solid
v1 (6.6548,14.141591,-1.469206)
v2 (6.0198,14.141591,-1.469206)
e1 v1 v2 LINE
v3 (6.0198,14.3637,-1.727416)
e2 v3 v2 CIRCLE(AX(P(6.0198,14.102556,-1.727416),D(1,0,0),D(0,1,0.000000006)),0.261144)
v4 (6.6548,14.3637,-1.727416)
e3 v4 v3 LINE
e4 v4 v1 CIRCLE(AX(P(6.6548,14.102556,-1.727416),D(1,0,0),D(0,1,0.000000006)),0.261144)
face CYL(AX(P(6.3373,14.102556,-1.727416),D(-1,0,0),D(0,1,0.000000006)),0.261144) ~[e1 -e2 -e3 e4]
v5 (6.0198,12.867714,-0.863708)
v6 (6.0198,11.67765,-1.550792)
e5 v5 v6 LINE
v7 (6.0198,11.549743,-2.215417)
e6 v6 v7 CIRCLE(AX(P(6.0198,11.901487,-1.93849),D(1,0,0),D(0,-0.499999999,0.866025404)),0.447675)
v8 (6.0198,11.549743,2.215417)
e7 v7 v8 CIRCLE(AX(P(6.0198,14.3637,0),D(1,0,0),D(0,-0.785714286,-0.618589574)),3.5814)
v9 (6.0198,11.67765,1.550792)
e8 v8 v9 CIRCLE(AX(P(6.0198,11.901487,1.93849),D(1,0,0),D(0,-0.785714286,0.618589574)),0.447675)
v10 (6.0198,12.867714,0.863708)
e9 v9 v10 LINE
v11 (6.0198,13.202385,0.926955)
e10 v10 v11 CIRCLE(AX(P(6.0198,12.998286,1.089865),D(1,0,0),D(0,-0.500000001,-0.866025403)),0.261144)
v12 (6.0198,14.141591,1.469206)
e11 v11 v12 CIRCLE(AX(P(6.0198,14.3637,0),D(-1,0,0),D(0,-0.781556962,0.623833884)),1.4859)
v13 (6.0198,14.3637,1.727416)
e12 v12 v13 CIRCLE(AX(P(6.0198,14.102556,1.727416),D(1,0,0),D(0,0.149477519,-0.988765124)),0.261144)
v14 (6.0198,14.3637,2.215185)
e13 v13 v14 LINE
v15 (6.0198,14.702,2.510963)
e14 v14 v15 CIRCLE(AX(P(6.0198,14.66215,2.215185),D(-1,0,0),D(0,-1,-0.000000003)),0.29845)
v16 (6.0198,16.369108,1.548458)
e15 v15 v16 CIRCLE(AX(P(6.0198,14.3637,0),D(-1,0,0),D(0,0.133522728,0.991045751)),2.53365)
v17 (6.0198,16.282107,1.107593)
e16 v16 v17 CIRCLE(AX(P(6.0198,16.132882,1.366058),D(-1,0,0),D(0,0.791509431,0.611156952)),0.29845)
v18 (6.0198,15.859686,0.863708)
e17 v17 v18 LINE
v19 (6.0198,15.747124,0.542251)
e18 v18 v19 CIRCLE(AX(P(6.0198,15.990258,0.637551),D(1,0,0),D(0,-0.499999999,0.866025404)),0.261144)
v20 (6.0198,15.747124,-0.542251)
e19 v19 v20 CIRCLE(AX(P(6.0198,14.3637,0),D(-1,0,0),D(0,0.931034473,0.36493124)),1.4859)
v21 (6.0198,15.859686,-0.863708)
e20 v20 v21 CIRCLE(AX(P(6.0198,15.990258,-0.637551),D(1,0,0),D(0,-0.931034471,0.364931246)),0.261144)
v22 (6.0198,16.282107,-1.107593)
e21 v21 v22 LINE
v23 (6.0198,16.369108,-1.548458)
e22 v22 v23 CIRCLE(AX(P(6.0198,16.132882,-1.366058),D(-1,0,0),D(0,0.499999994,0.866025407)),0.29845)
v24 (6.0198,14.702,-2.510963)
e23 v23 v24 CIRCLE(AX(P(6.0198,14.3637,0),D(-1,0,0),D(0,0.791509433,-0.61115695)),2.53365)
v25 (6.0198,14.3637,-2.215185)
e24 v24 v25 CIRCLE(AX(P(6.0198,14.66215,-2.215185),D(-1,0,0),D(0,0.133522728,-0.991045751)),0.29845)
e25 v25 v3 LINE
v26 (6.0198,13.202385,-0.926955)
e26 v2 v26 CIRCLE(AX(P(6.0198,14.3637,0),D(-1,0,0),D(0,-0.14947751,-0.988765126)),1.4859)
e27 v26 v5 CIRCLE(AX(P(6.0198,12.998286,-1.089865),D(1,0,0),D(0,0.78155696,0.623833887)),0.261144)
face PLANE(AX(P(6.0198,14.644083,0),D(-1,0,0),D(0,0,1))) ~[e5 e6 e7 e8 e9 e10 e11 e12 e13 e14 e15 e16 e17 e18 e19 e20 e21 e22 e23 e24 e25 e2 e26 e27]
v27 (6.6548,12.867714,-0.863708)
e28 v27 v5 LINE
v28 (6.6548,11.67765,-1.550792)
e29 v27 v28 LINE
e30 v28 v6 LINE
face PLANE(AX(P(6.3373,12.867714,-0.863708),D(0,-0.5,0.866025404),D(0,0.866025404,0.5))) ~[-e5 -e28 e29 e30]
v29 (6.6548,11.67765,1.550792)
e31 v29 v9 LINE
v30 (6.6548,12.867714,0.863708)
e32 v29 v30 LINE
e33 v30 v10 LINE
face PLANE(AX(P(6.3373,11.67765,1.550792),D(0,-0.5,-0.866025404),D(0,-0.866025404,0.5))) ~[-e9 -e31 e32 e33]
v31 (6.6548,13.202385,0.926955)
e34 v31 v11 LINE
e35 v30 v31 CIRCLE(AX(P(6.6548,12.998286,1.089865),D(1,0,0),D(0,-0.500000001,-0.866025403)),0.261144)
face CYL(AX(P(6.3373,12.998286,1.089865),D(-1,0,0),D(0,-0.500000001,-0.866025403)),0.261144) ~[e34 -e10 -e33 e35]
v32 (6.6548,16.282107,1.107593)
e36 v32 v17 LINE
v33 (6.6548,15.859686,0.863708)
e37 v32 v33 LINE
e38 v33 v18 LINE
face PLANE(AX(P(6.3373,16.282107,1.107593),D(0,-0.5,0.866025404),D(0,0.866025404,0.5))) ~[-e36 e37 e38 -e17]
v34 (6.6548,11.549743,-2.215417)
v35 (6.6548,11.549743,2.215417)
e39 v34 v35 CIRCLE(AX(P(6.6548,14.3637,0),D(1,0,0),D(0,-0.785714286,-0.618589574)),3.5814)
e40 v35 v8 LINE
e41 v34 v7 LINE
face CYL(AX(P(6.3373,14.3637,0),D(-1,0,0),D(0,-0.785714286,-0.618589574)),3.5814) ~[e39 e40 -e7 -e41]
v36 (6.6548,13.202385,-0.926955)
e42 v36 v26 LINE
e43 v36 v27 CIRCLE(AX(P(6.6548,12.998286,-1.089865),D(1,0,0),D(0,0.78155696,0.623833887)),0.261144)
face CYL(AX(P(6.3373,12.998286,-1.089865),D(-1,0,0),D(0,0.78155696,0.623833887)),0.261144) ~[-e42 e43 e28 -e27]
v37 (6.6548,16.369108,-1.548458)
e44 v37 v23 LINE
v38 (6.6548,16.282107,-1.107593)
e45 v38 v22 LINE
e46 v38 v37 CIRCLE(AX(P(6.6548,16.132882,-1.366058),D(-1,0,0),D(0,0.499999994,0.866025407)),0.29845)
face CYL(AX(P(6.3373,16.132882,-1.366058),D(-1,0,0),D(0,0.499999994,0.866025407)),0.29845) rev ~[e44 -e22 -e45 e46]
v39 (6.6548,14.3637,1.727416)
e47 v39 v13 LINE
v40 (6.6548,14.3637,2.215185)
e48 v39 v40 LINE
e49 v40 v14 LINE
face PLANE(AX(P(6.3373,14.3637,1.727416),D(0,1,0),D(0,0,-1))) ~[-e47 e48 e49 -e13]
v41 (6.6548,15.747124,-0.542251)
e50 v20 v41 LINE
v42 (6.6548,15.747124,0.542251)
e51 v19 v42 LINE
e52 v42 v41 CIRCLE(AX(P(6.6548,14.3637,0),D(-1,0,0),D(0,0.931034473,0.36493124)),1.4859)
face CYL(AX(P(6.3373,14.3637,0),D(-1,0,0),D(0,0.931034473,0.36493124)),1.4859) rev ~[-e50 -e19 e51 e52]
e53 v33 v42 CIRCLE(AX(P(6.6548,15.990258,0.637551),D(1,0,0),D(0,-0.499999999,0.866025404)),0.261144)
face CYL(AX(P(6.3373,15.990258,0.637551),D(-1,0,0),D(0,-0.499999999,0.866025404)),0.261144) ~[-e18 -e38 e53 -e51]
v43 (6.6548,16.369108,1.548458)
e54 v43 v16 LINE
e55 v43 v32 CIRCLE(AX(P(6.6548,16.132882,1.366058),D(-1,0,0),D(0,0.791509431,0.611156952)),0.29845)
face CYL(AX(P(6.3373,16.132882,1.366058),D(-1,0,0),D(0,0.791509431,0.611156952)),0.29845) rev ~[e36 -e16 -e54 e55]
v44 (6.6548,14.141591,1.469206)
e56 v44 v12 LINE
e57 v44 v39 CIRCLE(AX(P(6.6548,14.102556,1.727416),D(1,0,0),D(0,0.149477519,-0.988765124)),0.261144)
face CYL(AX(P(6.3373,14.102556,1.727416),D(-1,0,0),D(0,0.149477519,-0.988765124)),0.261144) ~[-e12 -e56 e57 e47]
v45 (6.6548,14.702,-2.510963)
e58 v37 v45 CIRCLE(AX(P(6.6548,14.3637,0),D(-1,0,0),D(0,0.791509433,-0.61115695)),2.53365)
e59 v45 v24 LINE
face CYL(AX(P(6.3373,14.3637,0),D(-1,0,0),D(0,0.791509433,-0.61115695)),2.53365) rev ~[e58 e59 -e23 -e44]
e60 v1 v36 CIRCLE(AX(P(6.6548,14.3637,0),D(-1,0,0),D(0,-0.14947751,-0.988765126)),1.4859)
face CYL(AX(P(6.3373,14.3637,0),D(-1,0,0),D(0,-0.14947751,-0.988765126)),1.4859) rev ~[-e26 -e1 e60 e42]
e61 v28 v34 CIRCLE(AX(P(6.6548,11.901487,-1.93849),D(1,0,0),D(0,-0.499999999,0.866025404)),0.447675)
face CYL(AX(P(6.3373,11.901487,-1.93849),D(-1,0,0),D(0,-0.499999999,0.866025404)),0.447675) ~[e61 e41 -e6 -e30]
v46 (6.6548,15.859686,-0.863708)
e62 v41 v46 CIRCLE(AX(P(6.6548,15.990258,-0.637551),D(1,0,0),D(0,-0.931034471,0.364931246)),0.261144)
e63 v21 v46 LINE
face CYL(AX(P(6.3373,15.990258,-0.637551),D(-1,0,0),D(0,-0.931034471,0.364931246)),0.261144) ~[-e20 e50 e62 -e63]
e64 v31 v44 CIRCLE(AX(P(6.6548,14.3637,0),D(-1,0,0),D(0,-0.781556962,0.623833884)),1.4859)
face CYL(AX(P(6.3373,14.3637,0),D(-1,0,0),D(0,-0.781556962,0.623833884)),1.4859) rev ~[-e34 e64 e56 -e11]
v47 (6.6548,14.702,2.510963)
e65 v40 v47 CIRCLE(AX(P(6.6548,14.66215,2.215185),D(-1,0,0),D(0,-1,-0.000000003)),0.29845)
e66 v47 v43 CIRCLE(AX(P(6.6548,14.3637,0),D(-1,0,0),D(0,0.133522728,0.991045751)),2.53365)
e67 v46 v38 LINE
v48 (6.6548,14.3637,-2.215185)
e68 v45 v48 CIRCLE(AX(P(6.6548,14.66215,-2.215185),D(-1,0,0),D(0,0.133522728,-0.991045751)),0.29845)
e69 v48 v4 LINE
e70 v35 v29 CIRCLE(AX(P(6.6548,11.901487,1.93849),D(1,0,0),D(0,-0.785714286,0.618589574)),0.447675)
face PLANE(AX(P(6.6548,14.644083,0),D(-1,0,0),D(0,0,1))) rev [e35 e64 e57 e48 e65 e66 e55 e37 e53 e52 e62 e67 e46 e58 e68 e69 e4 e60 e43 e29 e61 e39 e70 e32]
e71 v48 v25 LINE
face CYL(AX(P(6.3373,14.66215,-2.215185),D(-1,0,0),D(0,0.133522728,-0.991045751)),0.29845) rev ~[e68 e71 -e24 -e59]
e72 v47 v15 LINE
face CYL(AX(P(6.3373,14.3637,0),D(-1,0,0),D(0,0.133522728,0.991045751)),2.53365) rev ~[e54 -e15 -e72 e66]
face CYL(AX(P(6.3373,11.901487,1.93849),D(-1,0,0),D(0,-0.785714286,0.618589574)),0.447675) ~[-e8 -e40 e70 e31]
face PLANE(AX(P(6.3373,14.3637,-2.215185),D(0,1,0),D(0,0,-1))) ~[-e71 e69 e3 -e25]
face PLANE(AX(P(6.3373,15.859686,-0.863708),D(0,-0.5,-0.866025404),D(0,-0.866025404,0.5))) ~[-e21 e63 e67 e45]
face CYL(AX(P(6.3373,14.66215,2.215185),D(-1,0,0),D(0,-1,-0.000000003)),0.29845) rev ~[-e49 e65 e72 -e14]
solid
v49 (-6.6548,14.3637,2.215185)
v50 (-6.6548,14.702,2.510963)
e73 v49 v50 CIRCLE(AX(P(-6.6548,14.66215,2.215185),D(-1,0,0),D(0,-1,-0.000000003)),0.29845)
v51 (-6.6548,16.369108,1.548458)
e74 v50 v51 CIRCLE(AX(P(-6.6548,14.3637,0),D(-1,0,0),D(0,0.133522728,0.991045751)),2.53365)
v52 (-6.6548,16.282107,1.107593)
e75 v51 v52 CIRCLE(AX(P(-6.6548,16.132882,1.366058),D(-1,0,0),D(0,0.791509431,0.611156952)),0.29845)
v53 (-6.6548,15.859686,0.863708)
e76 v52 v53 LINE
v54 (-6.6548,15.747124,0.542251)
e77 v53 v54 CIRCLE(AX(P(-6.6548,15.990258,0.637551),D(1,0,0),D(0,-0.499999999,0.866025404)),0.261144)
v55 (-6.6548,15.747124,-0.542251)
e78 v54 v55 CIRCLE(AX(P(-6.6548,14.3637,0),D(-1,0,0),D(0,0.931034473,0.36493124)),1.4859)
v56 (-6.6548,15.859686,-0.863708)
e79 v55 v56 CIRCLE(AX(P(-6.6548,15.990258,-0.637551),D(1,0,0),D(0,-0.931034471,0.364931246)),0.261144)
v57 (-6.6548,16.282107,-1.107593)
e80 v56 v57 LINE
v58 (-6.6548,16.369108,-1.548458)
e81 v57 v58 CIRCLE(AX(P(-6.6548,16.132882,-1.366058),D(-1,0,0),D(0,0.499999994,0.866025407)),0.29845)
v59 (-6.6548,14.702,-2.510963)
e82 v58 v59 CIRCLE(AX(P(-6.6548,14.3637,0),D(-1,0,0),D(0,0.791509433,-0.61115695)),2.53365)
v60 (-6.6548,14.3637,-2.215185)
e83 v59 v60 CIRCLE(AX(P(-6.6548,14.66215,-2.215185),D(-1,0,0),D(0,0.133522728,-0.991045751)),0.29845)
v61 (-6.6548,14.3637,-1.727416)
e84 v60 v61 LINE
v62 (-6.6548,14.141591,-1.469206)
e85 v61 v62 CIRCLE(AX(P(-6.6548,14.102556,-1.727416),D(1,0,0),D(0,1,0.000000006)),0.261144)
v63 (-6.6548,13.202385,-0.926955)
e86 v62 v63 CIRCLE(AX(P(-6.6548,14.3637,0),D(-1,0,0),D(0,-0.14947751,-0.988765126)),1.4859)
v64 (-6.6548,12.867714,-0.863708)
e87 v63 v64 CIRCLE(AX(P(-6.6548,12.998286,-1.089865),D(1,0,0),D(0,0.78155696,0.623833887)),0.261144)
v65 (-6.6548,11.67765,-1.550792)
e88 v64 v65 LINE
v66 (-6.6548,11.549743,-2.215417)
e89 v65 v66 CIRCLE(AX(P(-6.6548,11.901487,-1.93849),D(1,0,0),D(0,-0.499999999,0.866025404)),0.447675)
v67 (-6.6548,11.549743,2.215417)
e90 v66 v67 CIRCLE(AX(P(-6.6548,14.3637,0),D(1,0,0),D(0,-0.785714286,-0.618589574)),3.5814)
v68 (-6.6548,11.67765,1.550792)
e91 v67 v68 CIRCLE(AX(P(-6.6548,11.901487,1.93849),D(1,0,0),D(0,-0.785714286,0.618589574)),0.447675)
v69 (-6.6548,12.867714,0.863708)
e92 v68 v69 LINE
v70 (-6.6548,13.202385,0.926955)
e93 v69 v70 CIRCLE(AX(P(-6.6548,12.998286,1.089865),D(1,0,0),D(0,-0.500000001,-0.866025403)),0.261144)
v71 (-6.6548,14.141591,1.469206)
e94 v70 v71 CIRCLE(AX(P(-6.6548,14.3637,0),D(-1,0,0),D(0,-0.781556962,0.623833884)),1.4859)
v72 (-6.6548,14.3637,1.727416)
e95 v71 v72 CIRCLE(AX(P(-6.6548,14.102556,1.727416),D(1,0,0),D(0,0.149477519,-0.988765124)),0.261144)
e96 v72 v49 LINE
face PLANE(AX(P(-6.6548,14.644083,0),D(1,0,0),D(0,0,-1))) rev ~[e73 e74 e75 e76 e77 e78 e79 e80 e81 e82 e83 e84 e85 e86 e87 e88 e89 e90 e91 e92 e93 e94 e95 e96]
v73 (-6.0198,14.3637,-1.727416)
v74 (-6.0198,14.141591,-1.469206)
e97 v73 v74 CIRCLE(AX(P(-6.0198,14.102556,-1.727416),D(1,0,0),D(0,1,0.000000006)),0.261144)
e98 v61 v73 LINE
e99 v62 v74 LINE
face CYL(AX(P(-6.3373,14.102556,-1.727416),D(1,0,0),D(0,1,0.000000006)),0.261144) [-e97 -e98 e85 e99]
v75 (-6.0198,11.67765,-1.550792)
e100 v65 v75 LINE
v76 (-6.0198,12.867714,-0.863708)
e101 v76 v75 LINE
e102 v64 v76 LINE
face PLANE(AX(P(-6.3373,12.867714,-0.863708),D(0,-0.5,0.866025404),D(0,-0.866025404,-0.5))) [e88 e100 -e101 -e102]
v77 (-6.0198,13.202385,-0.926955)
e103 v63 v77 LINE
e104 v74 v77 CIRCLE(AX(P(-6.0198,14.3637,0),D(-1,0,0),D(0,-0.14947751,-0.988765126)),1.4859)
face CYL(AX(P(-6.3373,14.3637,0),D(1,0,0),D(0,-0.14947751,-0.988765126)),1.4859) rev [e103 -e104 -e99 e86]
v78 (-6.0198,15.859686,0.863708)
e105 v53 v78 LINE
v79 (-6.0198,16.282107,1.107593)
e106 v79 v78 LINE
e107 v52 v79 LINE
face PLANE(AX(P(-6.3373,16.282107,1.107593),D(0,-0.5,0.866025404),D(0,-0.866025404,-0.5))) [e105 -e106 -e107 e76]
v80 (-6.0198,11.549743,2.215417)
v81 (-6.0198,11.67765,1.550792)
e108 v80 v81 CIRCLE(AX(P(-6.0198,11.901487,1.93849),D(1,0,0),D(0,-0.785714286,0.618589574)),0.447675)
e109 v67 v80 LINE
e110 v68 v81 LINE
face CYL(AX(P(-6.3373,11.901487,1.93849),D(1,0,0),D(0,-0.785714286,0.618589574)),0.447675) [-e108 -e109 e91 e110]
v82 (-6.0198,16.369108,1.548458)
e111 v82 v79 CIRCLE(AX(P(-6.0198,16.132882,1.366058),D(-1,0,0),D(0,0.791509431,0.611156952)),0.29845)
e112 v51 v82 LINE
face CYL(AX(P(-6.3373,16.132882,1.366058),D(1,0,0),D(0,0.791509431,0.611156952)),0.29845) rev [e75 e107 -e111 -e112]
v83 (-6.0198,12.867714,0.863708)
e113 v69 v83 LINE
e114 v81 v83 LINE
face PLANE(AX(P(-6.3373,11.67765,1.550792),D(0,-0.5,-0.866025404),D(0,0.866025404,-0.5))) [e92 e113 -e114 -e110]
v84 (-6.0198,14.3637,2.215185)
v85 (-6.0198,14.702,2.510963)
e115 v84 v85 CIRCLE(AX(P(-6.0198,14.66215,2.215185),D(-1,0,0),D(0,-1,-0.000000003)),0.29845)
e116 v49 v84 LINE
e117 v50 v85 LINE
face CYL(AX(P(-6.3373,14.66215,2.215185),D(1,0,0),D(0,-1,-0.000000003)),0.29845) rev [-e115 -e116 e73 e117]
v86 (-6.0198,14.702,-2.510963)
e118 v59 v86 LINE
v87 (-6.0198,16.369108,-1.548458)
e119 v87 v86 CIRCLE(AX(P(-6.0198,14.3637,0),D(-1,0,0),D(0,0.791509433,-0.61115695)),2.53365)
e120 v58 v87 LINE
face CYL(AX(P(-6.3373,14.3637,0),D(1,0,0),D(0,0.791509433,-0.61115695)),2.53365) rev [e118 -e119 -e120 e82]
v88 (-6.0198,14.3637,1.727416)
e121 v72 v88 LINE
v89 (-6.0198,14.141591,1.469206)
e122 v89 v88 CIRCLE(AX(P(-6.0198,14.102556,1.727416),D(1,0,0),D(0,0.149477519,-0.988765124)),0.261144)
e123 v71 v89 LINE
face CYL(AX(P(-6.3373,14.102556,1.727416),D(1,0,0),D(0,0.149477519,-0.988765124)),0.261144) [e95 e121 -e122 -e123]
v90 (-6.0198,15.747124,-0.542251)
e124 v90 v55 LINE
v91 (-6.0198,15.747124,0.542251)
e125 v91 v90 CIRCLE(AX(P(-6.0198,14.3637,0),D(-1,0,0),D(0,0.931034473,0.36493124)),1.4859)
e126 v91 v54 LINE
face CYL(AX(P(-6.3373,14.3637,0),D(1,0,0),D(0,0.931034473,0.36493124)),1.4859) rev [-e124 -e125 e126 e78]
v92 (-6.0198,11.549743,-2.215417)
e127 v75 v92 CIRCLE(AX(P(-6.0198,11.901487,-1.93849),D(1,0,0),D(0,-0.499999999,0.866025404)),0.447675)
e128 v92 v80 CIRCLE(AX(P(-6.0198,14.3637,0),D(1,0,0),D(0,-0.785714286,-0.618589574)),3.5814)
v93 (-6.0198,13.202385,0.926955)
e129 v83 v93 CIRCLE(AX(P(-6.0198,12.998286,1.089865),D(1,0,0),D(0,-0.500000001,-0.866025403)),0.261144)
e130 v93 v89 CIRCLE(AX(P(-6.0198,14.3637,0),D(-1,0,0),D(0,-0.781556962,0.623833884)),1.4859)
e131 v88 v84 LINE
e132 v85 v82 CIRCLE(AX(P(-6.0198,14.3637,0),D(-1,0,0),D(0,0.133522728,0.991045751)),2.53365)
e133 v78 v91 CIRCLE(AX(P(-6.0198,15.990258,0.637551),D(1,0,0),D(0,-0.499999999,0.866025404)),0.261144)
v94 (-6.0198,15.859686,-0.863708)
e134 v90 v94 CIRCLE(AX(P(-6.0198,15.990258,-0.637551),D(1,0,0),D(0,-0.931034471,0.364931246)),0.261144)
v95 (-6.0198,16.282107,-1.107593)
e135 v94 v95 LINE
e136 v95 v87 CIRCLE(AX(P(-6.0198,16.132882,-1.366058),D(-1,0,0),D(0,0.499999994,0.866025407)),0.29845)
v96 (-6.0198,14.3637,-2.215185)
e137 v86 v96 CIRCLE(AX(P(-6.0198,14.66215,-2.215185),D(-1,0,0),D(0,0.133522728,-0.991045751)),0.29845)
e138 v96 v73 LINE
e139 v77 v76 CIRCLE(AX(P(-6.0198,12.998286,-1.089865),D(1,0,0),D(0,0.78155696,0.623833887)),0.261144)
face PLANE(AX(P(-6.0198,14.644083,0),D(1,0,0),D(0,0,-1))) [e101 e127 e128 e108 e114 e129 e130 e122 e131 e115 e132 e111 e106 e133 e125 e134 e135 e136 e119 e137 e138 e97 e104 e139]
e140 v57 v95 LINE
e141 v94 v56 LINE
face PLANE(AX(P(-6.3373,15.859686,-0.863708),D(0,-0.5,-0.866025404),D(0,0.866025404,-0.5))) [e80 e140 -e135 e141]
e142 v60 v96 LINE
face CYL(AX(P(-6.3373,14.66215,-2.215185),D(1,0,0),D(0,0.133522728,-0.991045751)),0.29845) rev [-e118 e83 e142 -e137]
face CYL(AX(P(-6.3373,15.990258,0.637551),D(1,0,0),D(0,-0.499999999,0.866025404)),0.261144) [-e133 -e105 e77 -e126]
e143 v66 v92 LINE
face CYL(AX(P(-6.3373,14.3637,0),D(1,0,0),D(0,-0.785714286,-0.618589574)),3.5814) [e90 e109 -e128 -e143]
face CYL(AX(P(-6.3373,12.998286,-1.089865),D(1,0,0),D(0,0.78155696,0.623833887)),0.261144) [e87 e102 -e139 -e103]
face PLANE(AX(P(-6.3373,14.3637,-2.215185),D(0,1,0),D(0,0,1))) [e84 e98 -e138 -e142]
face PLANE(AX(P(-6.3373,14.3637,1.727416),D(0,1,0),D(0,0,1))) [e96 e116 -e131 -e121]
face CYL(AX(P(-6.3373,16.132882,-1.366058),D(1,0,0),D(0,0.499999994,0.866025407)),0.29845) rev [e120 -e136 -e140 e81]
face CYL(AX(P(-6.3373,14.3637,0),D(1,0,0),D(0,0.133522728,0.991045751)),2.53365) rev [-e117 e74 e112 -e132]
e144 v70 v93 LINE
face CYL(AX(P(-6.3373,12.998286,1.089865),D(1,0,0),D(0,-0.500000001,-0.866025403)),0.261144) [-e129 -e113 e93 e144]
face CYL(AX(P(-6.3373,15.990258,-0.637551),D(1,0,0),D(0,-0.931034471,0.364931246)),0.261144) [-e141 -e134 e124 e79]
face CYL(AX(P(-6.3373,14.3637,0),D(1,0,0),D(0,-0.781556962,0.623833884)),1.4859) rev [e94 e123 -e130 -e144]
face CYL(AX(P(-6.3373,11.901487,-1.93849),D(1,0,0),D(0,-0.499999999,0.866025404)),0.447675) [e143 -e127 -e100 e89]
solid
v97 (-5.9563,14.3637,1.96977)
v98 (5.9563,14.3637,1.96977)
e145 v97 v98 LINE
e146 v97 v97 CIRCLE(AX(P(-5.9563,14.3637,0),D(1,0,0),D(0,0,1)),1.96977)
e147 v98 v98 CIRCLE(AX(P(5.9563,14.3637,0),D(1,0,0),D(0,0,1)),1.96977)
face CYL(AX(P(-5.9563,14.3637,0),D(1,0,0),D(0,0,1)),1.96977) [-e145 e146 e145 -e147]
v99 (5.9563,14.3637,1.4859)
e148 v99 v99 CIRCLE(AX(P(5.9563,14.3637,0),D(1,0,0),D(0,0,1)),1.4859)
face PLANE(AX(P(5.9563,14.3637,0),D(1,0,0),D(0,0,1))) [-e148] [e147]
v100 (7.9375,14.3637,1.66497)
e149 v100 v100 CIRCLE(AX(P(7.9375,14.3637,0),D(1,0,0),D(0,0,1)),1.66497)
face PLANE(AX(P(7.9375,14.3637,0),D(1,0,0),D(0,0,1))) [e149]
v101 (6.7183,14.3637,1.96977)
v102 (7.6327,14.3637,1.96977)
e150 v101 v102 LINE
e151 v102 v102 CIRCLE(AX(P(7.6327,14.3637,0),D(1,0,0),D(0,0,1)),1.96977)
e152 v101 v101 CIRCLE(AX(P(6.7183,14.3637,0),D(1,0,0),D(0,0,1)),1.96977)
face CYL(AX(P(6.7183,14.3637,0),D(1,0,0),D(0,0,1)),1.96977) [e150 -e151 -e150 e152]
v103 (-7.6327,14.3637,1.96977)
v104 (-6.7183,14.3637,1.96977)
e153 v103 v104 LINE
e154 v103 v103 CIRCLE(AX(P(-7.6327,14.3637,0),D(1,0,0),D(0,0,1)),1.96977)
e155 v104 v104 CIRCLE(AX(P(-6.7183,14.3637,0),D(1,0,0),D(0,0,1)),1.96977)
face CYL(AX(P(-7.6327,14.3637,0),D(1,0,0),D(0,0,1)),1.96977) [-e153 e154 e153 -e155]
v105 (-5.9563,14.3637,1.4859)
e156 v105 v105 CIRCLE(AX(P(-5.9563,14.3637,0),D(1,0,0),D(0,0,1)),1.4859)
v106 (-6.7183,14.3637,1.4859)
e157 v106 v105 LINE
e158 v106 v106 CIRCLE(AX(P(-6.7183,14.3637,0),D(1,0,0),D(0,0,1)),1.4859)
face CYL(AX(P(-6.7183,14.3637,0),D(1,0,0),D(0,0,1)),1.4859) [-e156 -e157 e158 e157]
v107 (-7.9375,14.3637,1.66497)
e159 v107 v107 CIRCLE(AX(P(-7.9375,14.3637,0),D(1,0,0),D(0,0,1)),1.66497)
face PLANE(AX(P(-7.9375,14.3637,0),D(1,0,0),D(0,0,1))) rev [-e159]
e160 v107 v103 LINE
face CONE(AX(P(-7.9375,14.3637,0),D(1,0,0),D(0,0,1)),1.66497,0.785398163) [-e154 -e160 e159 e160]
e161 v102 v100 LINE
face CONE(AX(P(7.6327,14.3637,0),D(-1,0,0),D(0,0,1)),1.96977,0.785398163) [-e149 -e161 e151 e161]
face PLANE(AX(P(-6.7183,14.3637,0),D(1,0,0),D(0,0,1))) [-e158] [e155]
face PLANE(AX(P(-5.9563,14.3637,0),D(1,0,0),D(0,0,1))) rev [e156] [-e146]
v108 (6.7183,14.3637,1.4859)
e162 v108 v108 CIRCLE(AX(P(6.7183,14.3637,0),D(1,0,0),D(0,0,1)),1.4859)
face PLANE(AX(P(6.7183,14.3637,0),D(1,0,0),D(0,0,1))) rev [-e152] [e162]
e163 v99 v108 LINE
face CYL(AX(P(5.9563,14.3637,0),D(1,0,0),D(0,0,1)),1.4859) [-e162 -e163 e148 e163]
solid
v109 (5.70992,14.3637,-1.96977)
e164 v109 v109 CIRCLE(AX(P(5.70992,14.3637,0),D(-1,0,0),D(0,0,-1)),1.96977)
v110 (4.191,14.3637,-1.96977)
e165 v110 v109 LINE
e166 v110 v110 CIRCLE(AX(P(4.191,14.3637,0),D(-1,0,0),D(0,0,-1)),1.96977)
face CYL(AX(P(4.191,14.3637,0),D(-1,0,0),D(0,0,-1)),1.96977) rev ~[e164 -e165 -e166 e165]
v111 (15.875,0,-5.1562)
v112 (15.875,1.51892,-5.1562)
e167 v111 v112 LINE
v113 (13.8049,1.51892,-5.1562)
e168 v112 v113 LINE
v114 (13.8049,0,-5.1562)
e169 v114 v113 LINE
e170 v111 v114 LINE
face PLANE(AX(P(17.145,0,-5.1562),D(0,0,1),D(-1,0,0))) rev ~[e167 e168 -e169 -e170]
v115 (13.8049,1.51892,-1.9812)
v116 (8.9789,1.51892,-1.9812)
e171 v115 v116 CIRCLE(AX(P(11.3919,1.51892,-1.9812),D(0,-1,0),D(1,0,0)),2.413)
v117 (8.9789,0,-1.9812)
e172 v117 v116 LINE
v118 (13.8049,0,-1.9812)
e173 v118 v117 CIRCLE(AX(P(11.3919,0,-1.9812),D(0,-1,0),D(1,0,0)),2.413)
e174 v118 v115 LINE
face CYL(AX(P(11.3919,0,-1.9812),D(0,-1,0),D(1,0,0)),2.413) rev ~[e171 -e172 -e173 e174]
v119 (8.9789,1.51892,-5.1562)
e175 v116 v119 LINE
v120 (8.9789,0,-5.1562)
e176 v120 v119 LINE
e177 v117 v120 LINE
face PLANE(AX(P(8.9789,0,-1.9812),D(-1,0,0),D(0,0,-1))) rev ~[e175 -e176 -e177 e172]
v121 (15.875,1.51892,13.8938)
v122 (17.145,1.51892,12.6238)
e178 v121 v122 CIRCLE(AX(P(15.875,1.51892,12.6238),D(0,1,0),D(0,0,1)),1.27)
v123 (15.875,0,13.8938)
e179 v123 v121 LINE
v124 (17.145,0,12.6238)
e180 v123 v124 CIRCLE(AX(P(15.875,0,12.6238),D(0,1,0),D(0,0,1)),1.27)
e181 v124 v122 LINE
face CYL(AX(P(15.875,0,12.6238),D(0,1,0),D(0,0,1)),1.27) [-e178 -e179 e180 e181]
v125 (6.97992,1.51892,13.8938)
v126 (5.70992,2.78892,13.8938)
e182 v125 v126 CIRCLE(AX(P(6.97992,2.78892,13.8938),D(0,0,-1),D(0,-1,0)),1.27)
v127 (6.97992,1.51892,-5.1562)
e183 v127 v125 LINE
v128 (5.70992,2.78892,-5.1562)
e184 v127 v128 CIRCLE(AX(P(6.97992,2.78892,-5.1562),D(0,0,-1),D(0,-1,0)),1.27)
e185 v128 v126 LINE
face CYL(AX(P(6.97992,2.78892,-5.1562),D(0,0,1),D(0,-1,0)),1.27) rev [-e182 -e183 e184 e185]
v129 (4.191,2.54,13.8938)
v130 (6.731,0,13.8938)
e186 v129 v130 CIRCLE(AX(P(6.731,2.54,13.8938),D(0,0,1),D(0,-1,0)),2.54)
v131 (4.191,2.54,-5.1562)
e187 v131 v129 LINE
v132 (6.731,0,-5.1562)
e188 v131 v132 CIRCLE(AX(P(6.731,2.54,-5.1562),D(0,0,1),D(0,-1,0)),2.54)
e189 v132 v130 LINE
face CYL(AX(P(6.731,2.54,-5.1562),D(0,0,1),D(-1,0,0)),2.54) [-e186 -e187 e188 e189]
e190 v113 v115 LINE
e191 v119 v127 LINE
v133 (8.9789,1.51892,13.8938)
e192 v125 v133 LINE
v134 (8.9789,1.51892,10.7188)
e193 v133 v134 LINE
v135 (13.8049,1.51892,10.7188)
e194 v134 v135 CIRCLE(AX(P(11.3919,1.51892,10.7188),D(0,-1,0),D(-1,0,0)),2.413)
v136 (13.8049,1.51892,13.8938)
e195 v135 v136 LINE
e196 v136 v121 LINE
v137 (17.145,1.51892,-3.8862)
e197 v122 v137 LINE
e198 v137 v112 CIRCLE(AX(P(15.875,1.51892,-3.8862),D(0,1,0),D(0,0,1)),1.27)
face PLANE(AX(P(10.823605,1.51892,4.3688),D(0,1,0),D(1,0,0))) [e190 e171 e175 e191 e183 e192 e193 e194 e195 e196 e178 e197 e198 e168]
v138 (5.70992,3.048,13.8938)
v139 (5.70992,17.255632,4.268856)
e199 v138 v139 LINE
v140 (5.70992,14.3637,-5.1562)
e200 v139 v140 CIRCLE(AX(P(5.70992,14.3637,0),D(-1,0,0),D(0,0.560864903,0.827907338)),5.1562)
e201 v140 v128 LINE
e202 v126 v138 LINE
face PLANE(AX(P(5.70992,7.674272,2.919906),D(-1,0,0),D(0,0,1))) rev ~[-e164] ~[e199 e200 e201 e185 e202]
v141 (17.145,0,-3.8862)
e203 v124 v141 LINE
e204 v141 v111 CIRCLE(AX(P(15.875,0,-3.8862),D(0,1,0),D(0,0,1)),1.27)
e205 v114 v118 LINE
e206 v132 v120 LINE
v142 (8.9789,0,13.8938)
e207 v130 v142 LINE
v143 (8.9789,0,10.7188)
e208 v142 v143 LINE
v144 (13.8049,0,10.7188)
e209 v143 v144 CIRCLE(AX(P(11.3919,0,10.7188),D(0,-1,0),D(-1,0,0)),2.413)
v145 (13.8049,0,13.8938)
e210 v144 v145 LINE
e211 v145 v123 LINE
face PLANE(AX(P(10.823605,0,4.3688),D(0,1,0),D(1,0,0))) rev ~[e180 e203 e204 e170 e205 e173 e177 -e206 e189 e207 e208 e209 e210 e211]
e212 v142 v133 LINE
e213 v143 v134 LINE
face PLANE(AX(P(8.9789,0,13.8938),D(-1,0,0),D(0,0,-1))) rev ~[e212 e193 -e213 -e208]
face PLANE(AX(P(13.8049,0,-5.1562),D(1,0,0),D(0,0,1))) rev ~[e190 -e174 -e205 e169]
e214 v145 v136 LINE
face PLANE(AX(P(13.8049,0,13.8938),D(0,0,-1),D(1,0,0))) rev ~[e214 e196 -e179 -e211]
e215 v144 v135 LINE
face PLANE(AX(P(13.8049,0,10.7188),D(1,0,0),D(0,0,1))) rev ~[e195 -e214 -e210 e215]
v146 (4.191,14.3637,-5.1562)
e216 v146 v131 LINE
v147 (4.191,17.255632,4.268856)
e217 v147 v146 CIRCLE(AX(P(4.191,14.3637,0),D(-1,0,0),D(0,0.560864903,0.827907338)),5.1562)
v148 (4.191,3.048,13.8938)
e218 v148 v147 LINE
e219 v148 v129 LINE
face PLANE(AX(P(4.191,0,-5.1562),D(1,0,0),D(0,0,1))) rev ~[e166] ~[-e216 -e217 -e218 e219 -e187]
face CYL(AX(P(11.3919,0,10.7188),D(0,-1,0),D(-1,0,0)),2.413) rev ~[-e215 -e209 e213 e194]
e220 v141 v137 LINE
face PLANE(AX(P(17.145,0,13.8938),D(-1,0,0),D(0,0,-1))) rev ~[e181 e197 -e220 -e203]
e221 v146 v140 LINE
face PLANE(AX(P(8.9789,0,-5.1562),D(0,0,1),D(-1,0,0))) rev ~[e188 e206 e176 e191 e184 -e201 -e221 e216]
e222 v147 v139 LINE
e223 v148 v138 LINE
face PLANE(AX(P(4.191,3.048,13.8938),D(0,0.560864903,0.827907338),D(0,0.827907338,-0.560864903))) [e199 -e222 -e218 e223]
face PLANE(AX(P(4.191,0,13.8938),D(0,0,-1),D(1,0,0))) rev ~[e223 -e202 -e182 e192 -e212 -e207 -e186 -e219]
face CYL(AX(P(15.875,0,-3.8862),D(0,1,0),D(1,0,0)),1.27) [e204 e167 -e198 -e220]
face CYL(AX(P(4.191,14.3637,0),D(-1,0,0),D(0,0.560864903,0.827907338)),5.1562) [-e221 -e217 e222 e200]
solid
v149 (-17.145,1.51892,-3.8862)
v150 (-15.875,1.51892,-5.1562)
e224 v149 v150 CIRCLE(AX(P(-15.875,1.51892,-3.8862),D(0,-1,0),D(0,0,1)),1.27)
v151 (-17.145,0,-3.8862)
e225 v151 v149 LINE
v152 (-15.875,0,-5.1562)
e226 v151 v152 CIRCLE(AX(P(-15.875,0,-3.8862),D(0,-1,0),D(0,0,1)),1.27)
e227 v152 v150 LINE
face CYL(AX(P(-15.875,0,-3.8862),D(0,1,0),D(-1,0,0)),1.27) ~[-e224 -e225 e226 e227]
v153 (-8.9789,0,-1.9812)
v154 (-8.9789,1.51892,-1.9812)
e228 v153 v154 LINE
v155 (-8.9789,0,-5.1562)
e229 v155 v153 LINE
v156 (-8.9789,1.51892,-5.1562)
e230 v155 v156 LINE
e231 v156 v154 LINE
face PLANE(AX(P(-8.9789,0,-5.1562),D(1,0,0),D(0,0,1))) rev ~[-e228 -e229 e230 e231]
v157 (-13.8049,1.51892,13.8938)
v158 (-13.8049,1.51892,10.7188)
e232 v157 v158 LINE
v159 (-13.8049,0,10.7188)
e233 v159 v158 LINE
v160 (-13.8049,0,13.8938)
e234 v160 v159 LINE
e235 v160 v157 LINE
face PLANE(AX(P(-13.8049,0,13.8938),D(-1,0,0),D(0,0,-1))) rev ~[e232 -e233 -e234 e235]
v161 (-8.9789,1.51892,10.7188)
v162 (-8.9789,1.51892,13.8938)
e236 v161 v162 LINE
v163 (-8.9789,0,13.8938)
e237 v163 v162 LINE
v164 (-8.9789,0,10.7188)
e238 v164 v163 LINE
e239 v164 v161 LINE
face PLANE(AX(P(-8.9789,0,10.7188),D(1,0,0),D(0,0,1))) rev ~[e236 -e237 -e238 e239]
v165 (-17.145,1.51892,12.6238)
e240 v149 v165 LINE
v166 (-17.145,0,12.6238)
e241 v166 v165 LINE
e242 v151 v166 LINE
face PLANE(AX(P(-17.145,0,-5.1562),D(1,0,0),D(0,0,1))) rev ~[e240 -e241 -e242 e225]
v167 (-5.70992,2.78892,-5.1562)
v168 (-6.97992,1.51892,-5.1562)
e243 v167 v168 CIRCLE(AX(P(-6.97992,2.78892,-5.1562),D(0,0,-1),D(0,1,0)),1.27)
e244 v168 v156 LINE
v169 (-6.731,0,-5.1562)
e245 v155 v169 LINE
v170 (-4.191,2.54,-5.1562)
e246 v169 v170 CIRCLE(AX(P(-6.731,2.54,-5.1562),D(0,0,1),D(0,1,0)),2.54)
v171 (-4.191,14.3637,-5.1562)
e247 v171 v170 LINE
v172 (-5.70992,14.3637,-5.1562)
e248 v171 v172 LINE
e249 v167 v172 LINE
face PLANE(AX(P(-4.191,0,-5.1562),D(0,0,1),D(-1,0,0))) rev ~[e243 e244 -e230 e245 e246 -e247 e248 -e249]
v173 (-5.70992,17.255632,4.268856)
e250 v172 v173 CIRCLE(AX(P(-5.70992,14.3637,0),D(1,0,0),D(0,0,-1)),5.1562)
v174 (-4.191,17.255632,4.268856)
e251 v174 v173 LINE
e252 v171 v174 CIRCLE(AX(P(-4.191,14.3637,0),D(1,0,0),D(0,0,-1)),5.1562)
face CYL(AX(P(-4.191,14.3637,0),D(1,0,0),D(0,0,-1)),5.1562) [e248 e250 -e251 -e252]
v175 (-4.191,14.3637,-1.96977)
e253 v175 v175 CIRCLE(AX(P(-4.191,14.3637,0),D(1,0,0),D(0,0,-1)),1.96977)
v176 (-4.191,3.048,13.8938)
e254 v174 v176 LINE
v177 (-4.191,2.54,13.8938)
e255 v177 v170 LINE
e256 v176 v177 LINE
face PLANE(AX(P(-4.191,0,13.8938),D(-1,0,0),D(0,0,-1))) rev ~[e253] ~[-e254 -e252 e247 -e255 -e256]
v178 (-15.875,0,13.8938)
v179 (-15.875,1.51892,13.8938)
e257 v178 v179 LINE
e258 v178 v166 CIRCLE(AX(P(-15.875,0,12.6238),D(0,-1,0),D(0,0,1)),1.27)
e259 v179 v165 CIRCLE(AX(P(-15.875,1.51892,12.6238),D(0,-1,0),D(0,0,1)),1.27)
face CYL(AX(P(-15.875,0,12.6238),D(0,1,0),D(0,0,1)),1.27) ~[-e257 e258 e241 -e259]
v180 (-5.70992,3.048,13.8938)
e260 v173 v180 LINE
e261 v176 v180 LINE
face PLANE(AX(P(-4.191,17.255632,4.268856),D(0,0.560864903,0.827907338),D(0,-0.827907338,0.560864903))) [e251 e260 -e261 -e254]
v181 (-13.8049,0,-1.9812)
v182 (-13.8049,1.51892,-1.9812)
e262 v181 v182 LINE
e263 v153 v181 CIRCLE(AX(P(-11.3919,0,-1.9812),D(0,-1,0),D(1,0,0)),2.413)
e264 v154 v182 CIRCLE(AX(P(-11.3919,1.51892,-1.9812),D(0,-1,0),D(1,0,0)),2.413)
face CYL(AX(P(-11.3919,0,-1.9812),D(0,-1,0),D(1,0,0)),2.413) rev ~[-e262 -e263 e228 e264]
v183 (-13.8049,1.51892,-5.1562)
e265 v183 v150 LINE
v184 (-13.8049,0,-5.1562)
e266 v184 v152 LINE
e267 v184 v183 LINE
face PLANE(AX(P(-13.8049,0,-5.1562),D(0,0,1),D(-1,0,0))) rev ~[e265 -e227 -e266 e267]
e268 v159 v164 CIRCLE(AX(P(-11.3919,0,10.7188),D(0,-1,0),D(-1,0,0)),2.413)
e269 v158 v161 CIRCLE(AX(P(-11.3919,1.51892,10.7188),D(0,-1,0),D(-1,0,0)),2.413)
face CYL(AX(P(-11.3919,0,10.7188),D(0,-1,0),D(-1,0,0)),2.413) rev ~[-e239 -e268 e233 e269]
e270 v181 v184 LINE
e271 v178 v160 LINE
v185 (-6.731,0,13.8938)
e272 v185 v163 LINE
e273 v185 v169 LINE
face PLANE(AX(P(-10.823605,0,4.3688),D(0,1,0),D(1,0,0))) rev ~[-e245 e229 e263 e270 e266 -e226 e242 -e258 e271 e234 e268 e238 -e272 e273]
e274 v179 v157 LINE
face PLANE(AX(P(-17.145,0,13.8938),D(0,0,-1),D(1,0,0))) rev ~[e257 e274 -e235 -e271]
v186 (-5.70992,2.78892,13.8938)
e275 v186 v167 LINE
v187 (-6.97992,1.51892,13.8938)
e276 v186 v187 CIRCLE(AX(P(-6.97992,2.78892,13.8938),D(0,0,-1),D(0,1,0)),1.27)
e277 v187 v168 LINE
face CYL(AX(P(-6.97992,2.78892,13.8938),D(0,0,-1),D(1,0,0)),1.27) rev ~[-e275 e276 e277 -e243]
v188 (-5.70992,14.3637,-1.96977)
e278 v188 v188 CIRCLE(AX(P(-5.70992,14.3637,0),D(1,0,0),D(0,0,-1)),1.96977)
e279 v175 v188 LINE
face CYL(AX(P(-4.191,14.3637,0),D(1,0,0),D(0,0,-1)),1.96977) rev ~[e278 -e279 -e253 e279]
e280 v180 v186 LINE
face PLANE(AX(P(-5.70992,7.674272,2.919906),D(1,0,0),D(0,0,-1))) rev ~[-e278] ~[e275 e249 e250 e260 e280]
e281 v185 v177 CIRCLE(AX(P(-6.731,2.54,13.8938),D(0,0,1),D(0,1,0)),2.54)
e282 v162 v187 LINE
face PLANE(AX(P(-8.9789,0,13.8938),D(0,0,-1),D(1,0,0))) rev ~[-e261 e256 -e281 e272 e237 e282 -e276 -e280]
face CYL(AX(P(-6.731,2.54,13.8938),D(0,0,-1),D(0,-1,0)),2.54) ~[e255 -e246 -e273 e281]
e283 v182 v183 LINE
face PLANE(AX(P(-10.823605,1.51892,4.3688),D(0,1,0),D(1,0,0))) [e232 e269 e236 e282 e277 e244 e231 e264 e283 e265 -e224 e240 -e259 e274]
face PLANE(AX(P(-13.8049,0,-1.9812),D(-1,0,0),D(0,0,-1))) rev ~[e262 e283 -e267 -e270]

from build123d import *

# Parameters (mm, degrees)
BOSS_EXTRUDE1_DEPTH   = 1.51892
BOSS_EXTRUDE1_2_DEPTH = 1.51892
SKETCH4_R             = 1.96977
BOSS_EXTRUDE2_DEPTH   = 1.51892
SKETCH5_R             = 1.96977
BOSS_EXTRUDE3_DEPTH   = 1.51892
FILLET1_R             = 1.27
FILLET2_R             = 2.54
FILLET3_R             = 1.27
FILLET4_R             = 2.54
BOSS_EXTRUDE5_DEPTH   = 0.3175


with BuildPart() as part:
    # Sketch3 → Boss-Extrude1 (new body)
    with BuildSketch(Plane(origin=(0, 0, 0), x_dir=(1, 0, 0), z_dir=(0, 1, 0))):
        with BuildLine():
            Line((8.9789, -13.8938), (8.9789, -10.7188))
            ThreePointArc((8.9789, -10.7188), (11.3919, -8.3058), (13.8049, -10.7188))
            Line((13.8049, -10.7188), (13.8049, -13.8938))
            Line((13.8049, -13.8938), (17.145, -13.8938))
            Line((17.145, -13.8938), (17.145, 5.1562))
            Line((17.145, 5.1562), (13.8049, 5.1562))
            Line((13.8049, 5.1562), (13.8049, 1.9812))
            ThreePointArc((13.8049, 1.9812), (11.3919, -0.4318), (8.9789, 1.9812))
            Line((8.9789, 1.9812), (8.9789, 5.1562))
            Line((8.9789, 5.1562), (4.191, 5.1562))
            Line((4.191, 5.1562), (4.191, -13.8938))
            Line((4.191, -13.8938), (8.9789, -13.8938))
        make_face()
    extrude(amount=BOSS_EXTRUDE1_DEPTH)

    # Sketch5 → Boss-Extrude3 (add)
    with BuildSketch(Plane.ZY.offset(-4.191)):
        with BuildLine():
            Line((-5.1562, 0), (13.8938, 0))
            Line((13.8938, 0), (13.8938, 3.048))
            Line((13.8938, 3.048), (4.268855818, 17.255631611))
            ThreePointArc((4.268855818, 17.255631611), (-1.512501912, 19.293074849), (-5.1562, 14.3637))
            Line((-5.1562, 14.3637), (-5.1562, 0))
        make_face()
        with Locations(Location((0, 14.3637, 0), (0, 0, 180))):
            Circle(SKETCH5_R, mode=Mode.SUBTRACT)
    extrude(amount=-BOSS_EXTRUDE3_DEPTH)

    # Fillet3
    fillet3_edges = [part.edges().sort_by_distance(p)[0] for p in [
        (17.145, 0.75946, -5.1562),
        (17.145, 0.75946, 13.8938),
        (5.70992, 1.51892, 4.3688),
    ]]
    fillet(fillet3_edges, radius=FILLET3_R)

    # Fillet4
    fillet4_edges = [part.edges().sort_by_distance(p)[0] for p in [
        (4.191, 0, 4.3688),
    ]]
    fillet(fillet4_edges, radius=FILLET4_R)


with BuildPart() as body_2:
    # Sketch3 → Boss-Extrude1 2 (new body)
    with BuildSketch(Plane(origin=(0, 0, 0), x_dir=(1, 0, 0), z_dir=(0, 1, 0))):
        with BuildLine():
            Line((-17.145, -13.8938), (-13.8049, -13.8938))
            Line((-13.8049, -13.8938), (-13.8049, -10.7188))
            ThreePointArc((-13.8049, -10.7188), (-11.3919, -8.3058), (-8.9789, -10.7188))
            Line((-8.9789, -10.7188), (-8.9789, -13.8938))
            Line((-8.9789, -13.8938), (-4.191, -13.8938))
            Line((-4.191, -13.8938), (-4.191, 5.1562))
            Line((-4.191, 5.1562), (-8.9789, 5.1562))
            Line((-8.9789, 5.1562), (-8.9789, 1.9812))
            ThreePointArc((-8.9789, 1.9812), (-11.3919, -0.4318), (-13.8049, 1.9812))
            Line((-13.8049, 1.9812), (-13.8049, 5.1562))
            Line((-13.8049, 5.1562), (-17.145, 5.1562))
            Line((-17.145, 5.1562), (-17.145, -13.8938))
        make_face()
    extrude(amount=BOSS_EXTRUDE1_2_DEPTH)

    # Sketch4 → Boss-Extrude2 (add)
    with BuildSketch(Plane(origin=(-4.191, 0, 0), x_dir=(0, 0, -1), z_dir=(1, 0, 0))):
        with BuildLine():
            Line((-13.8938, 0), (5.1562, 0))
            Line((5.1562, 0), (5.1562, 14.3637))
            ThreePointArc((5.1562, 14.3637), (1.512501912, 19.293074849), (-4.268855818, 17.255631611))
            Line((-4.268855818, 17.255631611), (-13.8938, 3.048))
            Line((-13.8938, 3.048), (-13.8938, 0))
        make_face()
        with Locations((0, 14.3637)):
            Circle(SKETCH4_R, mode=Mode.SUBTRACT)
    extrude(amount=-BOSS_EXTRUDE2_DEPTH)

    # Fillet1
    fillet1_edges = [body_2.edges().sort_by_distance(p)[0] for p in [
        (-17.145, 0.75946, -5.1562),
        (-17.145, 0.75946, 13.8938),
        (-5.70992, 1.51892, 4.3688),
    ]]
    fillet(fillet1_edges, radius=FILLET1_R)

    # Fillet2
    fillet2_edges = [body_2.edges().sort_by_distance(p)[0] for p in [
        (-4.191, 0, 4.3688),
    ]]
    fillet(fillet2_edges, radius=FILLET2_R)


with BuildPart() as body_3:
    # Sketch6 → Revolve1 (revolve)
    with BuildSketch(Plane.XY, mode=Mode.PRIVATE) as revolve1_sk:
        Polygon((-7.6327, 16.33347), (-6.7183, 16.33347), (-6.7183, 15.8496), (-5.9563, 15.8496), (-5.9563, 16.33347), (5.9563, 16.33347), (5.9563, 15.8496), (6.7183, 15.8496), (6.7183, 16.33347), (7.6327, 16.33347), (7.9375, 16.02867), (7.9375, 14.3637), (-7.9375, 14.3637), (-7.9375, 16.02867), align=None)
    revolve(revolve1_sk.sketch.rotate(Axis((-7.9375, 14.3637, 0), (1, 0, 0)), 90), axis=Axis((-7.9375, 14.3637, 0), (1, 0, 0)))


with BuildPart() as body_4:
    # Sketch7 → Boss-Extrude5 (new, symmetric)
    with BuildSketch(Plane(origin=(-6.3373, 0, 0), x_dir=(0, 0, -1), z_dir=(1, 0, 0))):
        with BuildLine():
            Line((0.863707967, 15.859686081), (1.107592732, 16.282106885))
            ThreePointArc((1.107592732, 16.282106885), (1.308275812, 16.425684925), (1.548457805, 16.369107876))
            ThreePointArc((1.548457805, 16.369107876), (2.194205264, 15.630525), (2.510963068, 14.701999858))
            ThreePointArc((2.510963068, 14.701999858), (2.439869233, 14.465707626), (2.215185463, 14.3637))
            Line((2.215185463, 14.3637), (1.727415933, 14.3637))
            ThreePointArc((1.727415933, 14.3637), (1.557118721, 14.300533313), (1.4692061, 14.141591368))
            ThreePointArc((1.4692061, 14.141591368), (1.286827147, 13.62075), (0.926954768, 13.20238451))
            ThreePointArc((0.926954768, 13.20238451), (0.833263316, 13.046778975), (0.863707967, 12.867713919))
            Line((0.863707967, 12.867713919), (1.550791691, 11.67765))
            ThreePointArc((1.550791691, 11.67765), (1.85388699, 11.461879377), (2.215416701, 11.549742857))
            ThreePointArc((2.215416701, 11.549742857), (0, 17.9451), (-2.215416701, 11.549742857))
            ThreePointArc((-2.215416701, 11.549742857), (-1.85388699, 11.461879377), (-1.550791691, 11.67765))
            Line((-1.550791691, 11.67765), (-0.863707967, 12.867713919))
            ThreePointArc((-0.863707967, 12.867713919), (-0.833263316, 13.046778975), (-0.926954768, 13.20238451))
            ThreePointArc((-0.926954768, 13.20238451), (-1.286827147, 13.62075), (-1.4692061, 14.141591368))
            ThreePointArc((-1.4692061, 14.141591368), (-1.557118721, 14.300533313), (-1.727415933, 14.3637))
            Line((-1.727415933, 14.3637), (-2.215185463, 14.3637))
            ThreePointArc((-2.215185463, 14.3637), (-2.439869233, 14.465707626), (-2.510963068, 14.701999858))
            ThreePointArc((-2.510963068, 14.701999858), (-2.194205264, 15.630525), (-1.548457805, 16.369107876))
            ThreePointArc((-1.548457805, 16.369107876), (-1.308275812, 16.425684925), (-1.107592732, 16.282106885))
            Line((-1.107592732, 16.282106885), (-0.863707967, 15.859686081))
            ThreePointArc((-0.863707967, 15.859686081), (-0.723855405, 15.743787712), (-0.542251332, 15.747124123))
            ThreePointArc((-0.542251332, 15.747124123), (0, 15.8496), (0.542251332, 15.747124123))
            ThreePointArc((0.542251332, 15.747124123), (0.723855405, 15.743787712), (0.863707967, 15.859686081))
        make_face()
    extrude(amount=BOSS_EXTRUDE5_DEPTH, both=True)


with BuildPart() as body_5:
    # Mirror1: mirrored copy
    add(body_4.part.mirror(Plane(origin=(0, 0, 0), x_dir=(0, 0, 1), z_dir=(1, 0, 0))))


solid = Compound([part.part, body_2.part, body_3.part, body_4.part, body_5.part])
